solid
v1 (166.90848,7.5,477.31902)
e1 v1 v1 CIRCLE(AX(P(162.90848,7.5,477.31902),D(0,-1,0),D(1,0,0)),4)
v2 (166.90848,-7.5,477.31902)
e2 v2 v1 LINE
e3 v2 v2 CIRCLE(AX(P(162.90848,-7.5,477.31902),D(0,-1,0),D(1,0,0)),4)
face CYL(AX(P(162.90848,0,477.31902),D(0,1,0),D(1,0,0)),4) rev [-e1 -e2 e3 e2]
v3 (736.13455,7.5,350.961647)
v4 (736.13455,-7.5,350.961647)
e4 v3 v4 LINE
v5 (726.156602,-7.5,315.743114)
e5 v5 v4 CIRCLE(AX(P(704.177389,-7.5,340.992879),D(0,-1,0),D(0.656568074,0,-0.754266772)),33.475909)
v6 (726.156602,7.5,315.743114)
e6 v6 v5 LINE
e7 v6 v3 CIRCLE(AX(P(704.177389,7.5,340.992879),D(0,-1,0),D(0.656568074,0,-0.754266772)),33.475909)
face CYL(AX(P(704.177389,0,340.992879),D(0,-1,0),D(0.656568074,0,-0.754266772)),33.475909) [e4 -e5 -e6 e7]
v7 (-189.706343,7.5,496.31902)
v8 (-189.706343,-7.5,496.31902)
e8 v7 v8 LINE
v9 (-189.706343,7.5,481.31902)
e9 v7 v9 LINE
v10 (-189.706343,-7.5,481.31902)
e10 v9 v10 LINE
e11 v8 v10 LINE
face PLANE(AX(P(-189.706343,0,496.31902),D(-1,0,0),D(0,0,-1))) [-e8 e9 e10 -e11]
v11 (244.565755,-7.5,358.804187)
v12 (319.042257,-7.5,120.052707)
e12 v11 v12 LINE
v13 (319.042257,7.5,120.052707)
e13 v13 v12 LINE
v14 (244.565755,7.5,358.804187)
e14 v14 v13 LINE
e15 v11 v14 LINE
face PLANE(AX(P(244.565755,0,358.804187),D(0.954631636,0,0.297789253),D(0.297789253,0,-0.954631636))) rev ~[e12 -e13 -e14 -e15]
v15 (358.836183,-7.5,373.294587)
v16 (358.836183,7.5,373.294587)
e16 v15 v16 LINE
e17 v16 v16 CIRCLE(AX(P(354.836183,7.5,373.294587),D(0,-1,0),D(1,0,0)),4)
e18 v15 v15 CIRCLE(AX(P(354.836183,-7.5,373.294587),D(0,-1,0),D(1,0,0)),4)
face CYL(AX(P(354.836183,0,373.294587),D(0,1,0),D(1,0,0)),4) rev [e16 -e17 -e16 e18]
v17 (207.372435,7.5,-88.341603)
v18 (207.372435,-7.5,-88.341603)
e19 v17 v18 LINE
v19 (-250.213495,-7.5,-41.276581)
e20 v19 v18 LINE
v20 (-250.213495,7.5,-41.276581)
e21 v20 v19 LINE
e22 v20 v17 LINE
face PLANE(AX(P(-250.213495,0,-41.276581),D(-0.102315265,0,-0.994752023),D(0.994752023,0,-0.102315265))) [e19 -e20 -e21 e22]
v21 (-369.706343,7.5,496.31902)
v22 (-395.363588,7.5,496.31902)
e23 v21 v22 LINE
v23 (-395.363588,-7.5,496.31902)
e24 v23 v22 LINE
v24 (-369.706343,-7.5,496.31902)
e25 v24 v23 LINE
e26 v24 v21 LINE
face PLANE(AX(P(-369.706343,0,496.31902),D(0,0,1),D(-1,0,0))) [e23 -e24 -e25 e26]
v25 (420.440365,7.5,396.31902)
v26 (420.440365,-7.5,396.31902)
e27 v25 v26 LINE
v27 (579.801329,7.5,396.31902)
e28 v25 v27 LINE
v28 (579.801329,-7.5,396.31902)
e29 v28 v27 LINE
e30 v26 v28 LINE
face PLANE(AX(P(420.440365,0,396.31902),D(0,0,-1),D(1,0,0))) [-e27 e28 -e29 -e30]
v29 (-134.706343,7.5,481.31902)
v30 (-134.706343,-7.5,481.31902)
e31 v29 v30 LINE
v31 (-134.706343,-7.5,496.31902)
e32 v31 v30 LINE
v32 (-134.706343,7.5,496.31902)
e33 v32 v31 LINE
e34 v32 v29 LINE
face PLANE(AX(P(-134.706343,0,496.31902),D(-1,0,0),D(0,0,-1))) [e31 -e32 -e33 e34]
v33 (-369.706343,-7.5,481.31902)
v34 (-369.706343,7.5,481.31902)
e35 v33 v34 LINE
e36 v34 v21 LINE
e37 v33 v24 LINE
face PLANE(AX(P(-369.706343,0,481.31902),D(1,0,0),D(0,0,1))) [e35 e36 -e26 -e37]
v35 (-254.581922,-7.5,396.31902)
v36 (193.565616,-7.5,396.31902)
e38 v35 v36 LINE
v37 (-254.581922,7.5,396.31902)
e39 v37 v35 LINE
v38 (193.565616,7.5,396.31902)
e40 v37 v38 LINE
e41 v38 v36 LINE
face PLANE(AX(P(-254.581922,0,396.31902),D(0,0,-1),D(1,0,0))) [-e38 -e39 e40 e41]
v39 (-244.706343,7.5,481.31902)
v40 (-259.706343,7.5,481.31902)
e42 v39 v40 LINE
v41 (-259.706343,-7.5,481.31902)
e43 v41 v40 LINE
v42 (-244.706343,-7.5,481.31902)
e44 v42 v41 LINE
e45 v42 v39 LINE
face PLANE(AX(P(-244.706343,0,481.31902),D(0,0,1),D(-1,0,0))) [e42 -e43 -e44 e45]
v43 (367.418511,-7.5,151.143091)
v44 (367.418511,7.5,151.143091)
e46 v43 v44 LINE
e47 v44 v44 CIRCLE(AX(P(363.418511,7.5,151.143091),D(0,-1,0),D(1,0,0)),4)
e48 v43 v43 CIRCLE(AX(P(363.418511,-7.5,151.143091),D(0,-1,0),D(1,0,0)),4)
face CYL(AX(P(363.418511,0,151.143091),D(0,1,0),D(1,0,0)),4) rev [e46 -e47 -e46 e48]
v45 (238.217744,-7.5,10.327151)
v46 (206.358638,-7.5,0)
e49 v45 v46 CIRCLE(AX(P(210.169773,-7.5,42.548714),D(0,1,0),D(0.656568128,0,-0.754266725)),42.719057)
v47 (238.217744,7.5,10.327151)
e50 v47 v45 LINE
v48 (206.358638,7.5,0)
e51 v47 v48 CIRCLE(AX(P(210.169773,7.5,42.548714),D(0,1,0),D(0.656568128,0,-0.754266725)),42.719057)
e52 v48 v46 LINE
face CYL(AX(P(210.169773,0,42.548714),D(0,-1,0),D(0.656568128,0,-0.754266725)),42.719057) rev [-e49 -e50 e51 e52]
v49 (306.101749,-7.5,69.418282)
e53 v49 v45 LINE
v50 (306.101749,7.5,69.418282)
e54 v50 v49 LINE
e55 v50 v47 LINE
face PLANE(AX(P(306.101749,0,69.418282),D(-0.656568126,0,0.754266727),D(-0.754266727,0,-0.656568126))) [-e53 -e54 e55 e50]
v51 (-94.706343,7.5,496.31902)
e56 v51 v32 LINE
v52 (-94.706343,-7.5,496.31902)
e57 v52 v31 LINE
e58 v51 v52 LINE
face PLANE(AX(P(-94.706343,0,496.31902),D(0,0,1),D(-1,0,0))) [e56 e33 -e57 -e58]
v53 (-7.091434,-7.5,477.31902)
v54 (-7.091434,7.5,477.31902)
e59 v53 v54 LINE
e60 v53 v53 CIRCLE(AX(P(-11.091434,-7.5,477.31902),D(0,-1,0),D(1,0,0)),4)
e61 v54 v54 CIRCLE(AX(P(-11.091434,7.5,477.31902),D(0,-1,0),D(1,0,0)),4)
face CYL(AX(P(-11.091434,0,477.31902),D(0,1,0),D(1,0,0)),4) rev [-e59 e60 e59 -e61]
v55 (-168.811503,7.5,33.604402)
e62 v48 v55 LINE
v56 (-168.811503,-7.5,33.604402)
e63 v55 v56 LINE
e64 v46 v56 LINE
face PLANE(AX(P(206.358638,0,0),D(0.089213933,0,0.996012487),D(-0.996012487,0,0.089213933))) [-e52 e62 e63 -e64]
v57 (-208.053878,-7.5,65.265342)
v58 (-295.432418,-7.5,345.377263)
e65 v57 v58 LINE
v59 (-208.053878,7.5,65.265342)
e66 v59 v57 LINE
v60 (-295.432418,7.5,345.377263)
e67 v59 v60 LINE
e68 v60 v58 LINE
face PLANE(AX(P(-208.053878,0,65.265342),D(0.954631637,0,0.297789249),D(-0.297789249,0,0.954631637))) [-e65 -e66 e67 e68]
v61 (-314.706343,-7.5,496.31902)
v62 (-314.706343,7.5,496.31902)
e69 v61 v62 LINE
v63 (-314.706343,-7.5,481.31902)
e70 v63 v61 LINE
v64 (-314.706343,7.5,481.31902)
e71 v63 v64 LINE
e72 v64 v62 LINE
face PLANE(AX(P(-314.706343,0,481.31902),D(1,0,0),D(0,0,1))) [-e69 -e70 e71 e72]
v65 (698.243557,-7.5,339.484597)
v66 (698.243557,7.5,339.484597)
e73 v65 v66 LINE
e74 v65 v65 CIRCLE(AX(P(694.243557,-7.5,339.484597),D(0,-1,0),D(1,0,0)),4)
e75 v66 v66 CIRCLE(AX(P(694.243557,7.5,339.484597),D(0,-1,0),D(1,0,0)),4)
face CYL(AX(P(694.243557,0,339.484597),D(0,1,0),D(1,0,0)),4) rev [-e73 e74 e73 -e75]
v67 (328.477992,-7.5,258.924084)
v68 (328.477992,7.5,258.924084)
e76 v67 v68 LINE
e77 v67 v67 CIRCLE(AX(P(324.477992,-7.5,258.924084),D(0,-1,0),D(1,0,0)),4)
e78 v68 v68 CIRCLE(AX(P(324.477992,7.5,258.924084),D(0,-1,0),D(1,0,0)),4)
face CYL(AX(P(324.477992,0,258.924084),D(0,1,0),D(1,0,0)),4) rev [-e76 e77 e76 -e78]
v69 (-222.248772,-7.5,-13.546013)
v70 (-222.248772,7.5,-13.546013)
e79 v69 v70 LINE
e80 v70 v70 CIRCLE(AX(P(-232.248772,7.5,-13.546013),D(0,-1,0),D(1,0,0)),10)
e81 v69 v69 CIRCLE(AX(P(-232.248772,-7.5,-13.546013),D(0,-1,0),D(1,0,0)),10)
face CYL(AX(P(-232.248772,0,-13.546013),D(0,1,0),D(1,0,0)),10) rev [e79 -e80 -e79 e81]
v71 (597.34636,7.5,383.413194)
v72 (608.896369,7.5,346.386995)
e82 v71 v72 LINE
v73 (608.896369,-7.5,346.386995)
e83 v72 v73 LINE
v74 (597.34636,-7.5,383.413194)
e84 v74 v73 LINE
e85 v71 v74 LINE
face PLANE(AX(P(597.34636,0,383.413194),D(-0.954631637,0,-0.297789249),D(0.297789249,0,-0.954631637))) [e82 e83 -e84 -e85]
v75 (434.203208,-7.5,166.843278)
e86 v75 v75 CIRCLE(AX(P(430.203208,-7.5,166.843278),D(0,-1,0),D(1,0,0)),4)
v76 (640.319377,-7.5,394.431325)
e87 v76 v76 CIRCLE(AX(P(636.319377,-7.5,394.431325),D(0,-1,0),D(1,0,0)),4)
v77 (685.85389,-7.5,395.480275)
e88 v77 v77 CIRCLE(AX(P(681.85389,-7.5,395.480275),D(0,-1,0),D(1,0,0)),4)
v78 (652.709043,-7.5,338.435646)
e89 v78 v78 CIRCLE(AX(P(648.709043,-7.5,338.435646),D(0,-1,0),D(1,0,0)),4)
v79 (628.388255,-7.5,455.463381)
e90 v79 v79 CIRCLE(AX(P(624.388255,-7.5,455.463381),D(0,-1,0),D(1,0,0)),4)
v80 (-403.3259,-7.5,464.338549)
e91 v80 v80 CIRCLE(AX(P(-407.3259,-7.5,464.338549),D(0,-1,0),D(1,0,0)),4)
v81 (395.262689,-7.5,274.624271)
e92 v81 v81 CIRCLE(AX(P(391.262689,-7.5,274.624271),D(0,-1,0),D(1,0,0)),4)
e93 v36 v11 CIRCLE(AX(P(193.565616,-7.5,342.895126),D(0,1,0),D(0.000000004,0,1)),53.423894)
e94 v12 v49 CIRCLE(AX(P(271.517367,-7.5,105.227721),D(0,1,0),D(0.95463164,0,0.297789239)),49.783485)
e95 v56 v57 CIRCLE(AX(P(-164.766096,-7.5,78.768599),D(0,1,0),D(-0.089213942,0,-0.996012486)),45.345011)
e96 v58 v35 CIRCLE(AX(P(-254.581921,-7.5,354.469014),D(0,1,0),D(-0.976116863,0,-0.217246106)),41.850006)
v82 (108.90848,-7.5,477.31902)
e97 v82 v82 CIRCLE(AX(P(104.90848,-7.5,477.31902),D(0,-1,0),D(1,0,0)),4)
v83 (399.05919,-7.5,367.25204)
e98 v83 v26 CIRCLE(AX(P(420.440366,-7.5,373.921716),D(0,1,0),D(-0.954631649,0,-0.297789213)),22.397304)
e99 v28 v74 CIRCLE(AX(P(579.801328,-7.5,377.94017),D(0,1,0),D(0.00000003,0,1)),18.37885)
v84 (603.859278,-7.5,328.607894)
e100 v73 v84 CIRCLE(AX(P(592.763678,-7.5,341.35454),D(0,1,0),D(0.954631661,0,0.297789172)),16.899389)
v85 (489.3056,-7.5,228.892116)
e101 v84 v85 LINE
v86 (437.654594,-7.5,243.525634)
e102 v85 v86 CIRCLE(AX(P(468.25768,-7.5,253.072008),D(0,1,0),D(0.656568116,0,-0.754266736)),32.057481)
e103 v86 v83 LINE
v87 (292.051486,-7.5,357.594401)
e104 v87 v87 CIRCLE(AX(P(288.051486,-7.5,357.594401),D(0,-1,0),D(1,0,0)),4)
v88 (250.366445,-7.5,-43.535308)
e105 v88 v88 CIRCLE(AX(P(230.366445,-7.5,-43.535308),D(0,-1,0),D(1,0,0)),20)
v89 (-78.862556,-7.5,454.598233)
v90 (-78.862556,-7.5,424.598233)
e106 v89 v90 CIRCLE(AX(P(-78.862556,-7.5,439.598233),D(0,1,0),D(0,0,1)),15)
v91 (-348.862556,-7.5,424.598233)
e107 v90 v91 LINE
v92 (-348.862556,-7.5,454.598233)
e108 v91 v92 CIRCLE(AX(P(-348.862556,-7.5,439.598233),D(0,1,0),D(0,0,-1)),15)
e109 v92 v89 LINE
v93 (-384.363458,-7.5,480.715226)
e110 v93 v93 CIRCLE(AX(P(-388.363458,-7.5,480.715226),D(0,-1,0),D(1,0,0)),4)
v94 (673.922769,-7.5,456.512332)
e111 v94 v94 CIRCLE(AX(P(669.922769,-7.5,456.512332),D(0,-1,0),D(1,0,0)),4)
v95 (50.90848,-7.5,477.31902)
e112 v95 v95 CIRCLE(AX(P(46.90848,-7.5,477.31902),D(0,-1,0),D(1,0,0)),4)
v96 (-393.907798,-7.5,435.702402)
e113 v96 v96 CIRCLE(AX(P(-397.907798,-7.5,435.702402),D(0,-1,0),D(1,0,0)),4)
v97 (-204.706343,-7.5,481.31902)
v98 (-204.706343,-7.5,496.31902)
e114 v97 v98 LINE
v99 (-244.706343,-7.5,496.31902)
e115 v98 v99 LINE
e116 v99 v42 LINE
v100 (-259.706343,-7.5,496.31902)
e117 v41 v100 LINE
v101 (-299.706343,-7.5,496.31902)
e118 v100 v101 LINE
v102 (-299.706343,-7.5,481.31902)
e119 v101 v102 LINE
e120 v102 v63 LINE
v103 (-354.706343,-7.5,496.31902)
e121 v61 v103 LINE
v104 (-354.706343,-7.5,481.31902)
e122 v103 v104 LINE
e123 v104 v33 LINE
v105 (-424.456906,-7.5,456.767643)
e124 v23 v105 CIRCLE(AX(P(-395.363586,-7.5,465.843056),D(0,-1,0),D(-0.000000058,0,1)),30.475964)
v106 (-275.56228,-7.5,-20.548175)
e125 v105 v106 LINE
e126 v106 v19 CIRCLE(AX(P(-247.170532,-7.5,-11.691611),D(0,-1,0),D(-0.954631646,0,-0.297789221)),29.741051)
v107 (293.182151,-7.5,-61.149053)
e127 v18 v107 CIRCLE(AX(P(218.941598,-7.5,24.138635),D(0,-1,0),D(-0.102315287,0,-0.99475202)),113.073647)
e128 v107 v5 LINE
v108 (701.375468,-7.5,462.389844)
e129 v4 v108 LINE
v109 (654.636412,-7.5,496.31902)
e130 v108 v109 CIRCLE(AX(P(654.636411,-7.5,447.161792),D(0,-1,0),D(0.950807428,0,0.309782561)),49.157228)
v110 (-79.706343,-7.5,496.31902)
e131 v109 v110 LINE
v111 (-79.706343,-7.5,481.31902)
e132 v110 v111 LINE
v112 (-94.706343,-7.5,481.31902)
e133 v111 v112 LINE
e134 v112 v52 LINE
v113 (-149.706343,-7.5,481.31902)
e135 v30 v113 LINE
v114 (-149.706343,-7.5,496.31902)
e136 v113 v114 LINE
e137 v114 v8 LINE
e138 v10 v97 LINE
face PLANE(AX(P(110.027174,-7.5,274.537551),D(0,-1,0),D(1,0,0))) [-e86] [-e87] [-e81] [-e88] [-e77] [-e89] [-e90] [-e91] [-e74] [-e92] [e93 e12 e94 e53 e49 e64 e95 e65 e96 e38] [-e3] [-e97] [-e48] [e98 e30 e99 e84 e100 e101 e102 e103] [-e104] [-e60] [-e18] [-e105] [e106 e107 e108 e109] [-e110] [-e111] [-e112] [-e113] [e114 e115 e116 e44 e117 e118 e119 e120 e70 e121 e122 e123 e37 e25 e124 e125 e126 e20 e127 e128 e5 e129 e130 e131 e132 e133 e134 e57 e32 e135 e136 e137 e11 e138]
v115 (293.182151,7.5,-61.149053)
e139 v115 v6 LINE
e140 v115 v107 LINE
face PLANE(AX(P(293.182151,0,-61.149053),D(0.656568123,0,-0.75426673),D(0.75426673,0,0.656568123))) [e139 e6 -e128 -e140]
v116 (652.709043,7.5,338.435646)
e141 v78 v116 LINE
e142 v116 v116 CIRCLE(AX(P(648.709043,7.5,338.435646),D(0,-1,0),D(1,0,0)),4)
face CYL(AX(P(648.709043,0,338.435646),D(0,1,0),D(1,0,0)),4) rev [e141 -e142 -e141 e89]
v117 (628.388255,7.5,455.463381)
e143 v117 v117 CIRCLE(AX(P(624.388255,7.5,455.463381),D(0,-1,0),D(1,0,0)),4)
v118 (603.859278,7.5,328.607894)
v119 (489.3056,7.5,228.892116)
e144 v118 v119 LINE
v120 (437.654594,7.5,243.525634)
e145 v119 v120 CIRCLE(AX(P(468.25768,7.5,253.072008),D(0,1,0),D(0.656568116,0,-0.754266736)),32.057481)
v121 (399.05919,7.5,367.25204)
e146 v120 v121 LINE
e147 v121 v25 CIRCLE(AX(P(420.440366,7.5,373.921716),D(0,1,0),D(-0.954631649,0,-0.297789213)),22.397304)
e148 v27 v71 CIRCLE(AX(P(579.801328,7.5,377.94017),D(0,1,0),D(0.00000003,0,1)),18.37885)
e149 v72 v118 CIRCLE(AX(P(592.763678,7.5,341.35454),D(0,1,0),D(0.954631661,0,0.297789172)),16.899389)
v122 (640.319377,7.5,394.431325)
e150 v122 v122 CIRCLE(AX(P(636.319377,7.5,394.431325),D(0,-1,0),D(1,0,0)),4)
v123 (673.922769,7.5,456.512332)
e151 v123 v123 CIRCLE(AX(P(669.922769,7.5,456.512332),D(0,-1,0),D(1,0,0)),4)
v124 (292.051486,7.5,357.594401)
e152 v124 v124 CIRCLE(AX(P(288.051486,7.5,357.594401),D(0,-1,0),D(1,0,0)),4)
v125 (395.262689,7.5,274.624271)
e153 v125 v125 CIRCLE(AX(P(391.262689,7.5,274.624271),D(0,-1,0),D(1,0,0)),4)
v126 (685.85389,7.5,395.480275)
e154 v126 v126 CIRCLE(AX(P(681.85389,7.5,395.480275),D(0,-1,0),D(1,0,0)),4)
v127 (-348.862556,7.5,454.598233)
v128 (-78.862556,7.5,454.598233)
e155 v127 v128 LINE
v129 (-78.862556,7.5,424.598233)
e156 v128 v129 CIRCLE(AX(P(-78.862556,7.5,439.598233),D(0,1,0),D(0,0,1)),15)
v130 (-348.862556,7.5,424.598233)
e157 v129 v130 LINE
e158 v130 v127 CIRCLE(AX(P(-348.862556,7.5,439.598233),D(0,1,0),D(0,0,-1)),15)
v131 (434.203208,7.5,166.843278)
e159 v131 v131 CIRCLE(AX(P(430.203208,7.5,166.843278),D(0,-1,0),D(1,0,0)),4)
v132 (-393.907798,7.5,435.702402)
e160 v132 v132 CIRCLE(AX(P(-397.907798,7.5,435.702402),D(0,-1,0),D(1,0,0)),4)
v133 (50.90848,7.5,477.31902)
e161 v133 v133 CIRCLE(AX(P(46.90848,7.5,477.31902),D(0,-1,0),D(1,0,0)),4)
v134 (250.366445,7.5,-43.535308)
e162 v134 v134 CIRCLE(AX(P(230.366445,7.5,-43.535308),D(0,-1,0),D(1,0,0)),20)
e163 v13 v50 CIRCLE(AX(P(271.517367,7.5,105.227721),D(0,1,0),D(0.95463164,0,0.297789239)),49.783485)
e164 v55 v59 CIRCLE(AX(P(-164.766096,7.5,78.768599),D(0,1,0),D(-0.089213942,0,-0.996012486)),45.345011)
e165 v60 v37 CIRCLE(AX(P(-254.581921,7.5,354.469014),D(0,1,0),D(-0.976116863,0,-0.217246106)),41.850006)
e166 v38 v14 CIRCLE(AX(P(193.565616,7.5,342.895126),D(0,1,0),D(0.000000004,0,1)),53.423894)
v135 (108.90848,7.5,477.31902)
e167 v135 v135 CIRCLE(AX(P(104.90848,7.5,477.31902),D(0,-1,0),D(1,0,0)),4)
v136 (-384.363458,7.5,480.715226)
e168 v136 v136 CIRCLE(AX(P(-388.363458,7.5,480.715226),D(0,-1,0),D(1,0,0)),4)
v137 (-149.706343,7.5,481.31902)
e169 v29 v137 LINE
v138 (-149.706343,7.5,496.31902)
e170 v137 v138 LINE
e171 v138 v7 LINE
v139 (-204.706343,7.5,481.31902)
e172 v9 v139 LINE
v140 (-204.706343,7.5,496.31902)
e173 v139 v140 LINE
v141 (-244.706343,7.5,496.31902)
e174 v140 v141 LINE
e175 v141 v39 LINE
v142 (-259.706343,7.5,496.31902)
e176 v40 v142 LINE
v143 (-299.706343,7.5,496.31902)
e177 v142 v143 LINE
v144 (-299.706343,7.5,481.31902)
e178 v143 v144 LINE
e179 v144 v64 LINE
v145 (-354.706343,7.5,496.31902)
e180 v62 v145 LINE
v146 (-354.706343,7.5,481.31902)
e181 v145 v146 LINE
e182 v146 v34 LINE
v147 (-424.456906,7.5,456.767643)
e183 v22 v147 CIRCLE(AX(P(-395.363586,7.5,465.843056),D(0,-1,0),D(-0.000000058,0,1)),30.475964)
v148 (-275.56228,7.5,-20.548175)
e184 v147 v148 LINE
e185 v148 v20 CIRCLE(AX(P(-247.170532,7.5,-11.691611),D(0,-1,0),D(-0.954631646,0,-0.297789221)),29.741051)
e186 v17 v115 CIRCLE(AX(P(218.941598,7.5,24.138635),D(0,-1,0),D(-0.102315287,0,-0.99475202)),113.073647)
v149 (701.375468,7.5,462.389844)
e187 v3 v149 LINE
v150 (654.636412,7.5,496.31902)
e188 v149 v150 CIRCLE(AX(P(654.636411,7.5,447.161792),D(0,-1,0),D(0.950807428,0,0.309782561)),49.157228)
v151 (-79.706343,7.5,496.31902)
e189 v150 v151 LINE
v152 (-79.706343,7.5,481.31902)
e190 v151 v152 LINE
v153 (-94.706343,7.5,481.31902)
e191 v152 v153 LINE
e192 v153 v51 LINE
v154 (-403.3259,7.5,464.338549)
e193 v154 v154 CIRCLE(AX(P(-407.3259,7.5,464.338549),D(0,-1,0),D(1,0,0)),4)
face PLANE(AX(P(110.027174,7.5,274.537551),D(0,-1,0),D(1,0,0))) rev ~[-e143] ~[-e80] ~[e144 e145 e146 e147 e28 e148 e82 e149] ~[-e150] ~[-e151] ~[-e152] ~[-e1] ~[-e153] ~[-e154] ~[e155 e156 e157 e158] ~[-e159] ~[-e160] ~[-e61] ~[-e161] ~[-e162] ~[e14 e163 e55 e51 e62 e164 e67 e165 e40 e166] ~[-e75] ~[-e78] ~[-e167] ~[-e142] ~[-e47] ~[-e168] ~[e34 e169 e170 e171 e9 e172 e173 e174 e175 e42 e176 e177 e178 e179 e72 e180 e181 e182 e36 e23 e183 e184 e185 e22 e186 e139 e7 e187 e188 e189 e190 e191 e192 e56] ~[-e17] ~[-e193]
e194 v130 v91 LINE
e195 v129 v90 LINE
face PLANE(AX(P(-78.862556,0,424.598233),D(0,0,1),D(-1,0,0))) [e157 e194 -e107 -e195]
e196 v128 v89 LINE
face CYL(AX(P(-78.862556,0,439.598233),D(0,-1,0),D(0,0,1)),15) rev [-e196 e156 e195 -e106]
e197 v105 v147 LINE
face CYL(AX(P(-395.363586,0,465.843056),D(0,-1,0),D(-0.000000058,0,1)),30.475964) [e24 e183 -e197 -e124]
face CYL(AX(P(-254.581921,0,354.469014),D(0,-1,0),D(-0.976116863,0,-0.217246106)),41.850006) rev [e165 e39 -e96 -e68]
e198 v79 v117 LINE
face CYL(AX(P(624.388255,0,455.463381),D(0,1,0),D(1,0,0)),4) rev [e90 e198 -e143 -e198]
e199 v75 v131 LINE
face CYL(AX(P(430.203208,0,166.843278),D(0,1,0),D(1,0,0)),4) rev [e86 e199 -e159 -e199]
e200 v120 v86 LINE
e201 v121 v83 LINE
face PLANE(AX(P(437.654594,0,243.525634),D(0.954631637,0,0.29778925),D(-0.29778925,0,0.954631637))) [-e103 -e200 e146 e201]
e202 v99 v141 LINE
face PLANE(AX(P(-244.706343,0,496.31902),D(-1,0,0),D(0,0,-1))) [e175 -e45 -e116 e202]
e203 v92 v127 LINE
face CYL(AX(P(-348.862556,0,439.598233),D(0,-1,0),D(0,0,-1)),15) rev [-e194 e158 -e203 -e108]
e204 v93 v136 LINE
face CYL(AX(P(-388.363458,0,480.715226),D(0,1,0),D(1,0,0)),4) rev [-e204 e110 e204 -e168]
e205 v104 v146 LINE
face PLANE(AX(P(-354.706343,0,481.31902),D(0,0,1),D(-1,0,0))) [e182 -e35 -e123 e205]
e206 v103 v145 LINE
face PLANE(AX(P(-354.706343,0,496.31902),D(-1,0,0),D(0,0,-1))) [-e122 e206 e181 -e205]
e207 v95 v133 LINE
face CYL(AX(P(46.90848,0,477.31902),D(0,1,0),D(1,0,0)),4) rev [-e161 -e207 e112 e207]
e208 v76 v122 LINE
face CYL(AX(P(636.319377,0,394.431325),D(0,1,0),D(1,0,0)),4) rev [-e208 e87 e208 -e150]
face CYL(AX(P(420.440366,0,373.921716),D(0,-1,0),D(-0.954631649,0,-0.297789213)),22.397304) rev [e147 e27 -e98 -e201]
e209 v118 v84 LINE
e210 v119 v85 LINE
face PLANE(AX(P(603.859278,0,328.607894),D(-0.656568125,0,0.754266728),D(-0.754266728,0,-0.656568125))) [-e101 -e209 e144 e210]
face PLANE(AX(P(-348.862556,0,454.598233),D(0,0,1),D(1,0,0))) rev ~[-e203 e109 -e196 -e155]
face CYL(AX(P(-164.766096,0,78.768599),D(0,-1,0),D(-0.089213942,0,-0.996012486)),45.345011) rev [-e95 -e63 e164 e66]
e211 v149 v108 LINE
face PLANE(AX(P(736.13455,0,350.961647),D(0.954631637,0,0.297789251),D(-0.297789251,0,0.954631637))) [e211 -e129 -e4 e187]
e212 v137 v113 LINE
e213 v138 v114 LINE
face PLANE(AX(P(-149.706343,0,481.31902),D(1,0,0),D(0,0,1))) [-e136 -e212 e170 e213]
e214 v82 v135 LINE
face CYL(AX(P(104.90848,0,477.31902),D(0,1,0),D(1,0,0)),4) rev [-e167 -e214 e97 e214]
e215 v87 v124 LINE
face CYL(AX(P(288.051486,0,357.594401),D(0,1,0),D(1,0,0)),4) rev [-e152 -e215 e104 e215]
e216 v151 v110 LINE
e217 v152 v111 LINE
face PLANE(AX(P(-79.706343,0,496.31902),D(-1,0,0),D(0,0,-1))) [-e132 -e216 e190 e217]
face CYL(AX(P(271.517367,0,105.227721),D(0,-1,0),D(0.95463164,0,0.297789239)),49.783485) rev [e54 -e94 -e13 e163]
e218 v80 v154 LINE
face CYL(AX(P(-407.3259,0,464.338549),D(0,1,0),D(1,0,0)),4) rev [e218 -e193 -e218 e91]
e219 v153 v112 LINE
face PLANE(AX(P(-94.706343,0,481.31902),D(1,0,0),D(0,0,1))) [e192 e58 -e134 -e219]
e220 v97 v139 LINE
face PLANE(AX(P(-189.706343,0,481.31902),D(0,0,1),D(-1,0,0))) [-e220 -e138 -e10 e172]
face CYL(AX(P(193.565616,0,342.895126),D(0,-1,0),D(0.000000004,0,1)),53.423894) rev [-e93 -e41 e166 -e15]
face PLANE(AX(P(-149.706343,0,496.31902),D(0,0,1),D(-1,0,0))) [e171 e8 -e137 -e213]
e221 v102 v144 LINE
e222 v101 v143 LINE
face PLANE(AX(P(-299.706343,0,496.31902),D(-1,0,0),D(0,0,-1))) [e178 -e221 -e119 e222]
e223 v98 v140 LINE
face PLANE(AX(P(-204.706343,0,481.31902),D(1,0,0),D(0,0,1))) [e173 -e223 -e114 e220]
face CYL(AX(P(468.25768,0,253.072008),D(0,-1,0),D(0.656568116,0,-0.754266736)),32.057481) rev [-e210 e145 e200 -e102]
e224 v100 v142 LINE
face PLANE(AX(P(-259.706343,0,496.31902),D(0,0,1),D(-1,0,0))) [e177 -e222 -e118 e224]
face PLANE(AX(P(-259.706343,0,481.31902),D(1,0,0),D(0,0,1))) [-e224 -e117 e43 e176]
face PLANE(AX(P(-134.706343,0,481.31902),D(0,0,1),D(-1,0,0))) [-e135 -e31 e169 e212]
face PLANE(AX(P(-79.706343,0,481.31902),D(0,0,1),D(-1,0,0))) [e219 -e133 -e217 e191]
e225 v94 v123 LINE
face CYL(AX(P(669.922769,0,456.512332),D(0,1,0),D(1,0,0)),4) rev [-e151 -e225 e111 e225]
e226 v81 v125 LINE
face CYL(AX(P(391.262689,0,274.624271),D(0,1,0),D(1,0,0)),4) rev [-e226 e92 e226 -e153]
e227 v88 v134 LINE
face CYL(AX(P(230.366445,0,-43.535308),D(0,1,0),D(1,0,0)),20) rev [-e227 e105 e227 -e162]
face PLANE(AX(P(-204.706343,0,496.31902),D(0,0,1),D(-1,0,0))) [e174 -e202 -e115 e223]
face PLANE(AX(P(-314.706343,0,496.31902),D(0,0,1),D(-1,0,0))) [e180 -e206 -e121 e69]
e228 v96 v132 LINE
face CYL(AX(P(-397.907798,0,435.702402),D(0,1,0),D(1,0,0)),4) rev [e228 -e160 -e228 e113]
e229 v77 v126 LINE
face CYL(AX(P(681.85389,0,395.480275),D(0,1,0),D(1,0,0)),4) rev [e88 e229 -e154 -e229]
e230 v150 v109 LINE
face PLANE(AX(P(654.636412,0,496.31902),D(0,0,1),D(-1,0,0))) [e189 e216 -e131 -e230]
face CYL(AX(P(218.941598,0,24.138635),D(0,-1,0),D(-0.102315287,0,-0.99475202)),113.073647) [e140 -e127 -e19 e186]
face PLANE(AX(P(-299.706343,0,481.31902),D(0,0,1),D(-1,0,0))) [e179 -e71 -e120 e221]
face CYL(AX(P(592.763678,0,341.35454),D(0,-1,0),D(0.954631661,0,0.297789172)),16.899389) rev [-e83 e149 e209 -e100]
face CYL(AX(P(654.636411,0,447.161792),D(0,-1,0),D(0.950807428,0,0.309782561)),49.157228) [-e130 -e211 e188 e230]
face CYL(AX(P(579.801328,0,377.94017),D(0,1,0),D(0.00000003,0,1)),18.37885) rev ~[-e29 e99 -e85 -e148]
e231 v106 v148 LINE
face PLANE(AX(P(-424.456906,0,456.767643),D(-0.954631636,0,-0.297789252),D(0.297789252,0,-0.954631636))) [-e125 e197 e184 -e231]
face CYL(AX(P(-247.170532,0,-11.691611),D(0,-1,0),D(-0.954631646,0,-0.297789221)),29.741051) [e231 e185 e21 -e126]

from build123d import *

# Parameters (mm, degrees)
F0_R     = 10
F0_R_2   = 20
F0_R_3   = 4
F1_DEPTH = 7.5


with BuildPart() as f1:
    # F0 (on Front) → F1 (new body, symmetric)
    with BuildSketch(Plane.XZ):
        with BuildLine():
            ThreePointArc((-275.56228, -20.548175), (-265.997427, -34.715036), (-250.213495, -41.276581))
            Line((-250.213495, -41.276581), (207.372435, -88.341603))
            ThreePointArc((207.372435, -88.341603), (253.099825, -83.652204), (293.182151, -61.149053))
            Line((293.182151, -61.149053), (726.156602, 315.743114))
            ThreePointArc((726.156602, 315.743114), (736.385608, 331.867799), (736.13455, 350.961647))
            Line((736.13455, 350.961647), (701.375468, 462.389844))
            ThreePointArc((701.375468, 462.389844), (683.514294, 486.942452), (654.636412, 496.31902))
            Line((654.636412, 496.31902), (-79.706343, 496.31902))
            Line((-79.706343, 496.31902), (-79.706343, 481.31902))
            Line((-79.706343, 481.31902), (-94.706343, 481.31902))
            Line((-94.706343, 481.31902), (-94.706343, 496.31902))
            Line((-94.706343, 496.31902), (-134.706343, 496.31902))
            Line((-134.706343, 496.31902), (-134.706343, 481.31902))
            Line((-134.706343, 481.31902), (-149.706343, 481.31902))
            Line((-149.706343, 481.31902), (-149.706343, 496.31902))
            Line((-149.706343, 496.31902), (-189.706343, 496.31902))
            Line((-189.706343, 496.31902), (-189.706343, 481.31902))
            Line((-189.706343, 481.31902), (-204.706343, 481.31902))
            Line((-204.706343, 481.31902), (-204.706343, 496.31902))
            Line((-204.706343, 496.31902), (-244.706343, 496.31902))
            Line((-244.706343, 496.31902), (-244.706343, 481.31902))
            Line((-244.706343, 481.31902), (-259.706343, 481.31902))
            Line((-259.706343, 481.31902), (-259.706343, 496.31902))
            Line((-259.706343, 496.31902), (-299.706343, 496.31902))
            Line((-299.706343, 496.31902), (-299.706343, 481.31902))
            Line((-299.706343, 481.31902), (-314.706343, 481.31902))
            Line((-314.706343, 481.31902), (-314.706343, 496.31902))
            Line((-314.706343, 496.31902), (-354.706343, 496.31902))
            Line((-354.706343, 496.31902), (-354.706343, 481.31902))
            Line((-354.706343, 481.31902), (-369.706343, 481.31902))
            Line((-369.706343, 481.31902), (-369.706343, 496.31902))
            Line((-369.706343, 496.31902), (-395.363588, 496.31902))
            ThreePointArc((-395.363588, 496.31902), (-419.913193, 483.901328), (-424.456906, 456.767643))
            Line((-424.456906, 456.767643), (-275.56228, -20.548175))
        make_face()
        with Locations((-232.248772, -13.546013)):
            Circle(F0_R, mode=Mode.SUBTRACT)
        with BuildLine():
            Line((-208.053878, 65.265342), (-295.432418, 345.377263))
            ThreePointArc((-295.432418, 345.377263), (-287.23091, 380.65043), (-254.581922, 396.31902))
            Line((-254.581922, 396.31902), (193.565616, 396.31902))
            ThreePointArc((193.565616, 396.31902), (225.221488, 385.930207), (244.565755, 358.804187))
            Line((244.565755, 358.804187), (319.042257, 120.052707))
            ThreePointArc((319.042257, 120.052707), (319.750596, 92.90088), (306.101749, 69.418282))
            Line((306.101749, 69.418282), (238.217744, 10.327151))
            ThreePointArc((238.217744, 10.327151), (223.342417, 1.911302), (206.358638, 0))
            Line((206.358638, 0), (-168.811503, 33.604402))
            ThreePointArc((-168.811503, 33.604402), (-193.239091, 43.477544), (-208.053878, 65.265342))
        make_face(mode=Mode.SUBTRACT)
        with Locations((230.366445, -43.535308)):
            Circle(F0_R_2, mode=Mode.SUBTRACT)
        with Locations((363.418511, 151.143091)):
            Circle(F0_R_3, mode=Mode.SUBTRACT)
        with Locations((430.203208, 166.843278)):
            Circle(F0_R_3, mode=Mode.SUBTRACT)
        with Locations((-397.907798, 435.702402)):
            Circle(F0_R_3, mode=Mode.SUBTRACT)
        with Locations((-407.3259, 464.338549)):
            Circle(F0_R_3, mode=Mode.SUBTRACT)
        with Locations((-388.363458, 480.715226)):
            Circle(F0_R_3, mode=Mode.SUBTRACT)
        with BuildLine():
            ThreePointArc((-348.862556, 424.598233), (-363.862556, 439.598233), (-348.862556, 454.598233))
            Line((-348.862556, 454.598233), (-78.862556, 454.598233))
            ThreePointArc((-78.862556, 454.598233), (-63.862556, 439.598233), (-78.862556, 424.598233))
            Line((-78.862556, 424.598233), (-348.862556, 424.598233))
        make_face(mode=Mode.SUBTRACT)
        with Locations((-11.091434, 477.31902)):
            Circle(F0_R_3, mode=Mode.SUBTRACT)
        with Locations((46.90848, 477.31902)):
            Circle(F0_R_3, mode=Mode.SUBTRACT)
        with Locations((104.90848, 477.31902)):
            Circle(F0_R_3, mode=Mode.SUBTRACT)
        with Locations((324.477992, 258.924084)):
            Circle(F0_R_3, mode=Mode.SUBTRACT)
        with Locations((391.262689, 274.624271)):
            Circle(F0_R_3, mode=Mode.SUBTRACT)
        with BuildLine():
            Line((437.654594, 243.525634), (399.05919, 367.25204))
            ThreePointArc((399.05919, 367.25204), (402.398442, 387.193047), (420.440365, 396.31902))
            Line((420.440365, 396.31902), (579.801329, 396.31902))
            ThreePointArc((579.801329, 396.31902), (590.691559, 392.745068), (597.34636, 383.413194))
            Line((597.34636, 383.413194), (608.896369, 346.386995))
            ThreePointArc((608.896369, 346.386995), (609.023108, 336.747995), (603.859278, 328.607894))
            Line((603.859278, 328.607894), (489.3056, 228.892116))
            ThreePointArc((489.3056, 228.892116), (459.519244, 222.228502), (437.654594, 243.525634))
        make_face(mode=Mode.SUBTRACT)
        with Locations((648.709043, 338.435646)):
            Circle(F0_R_3, mode=Mode.SUBTRACT)
        with Locations((694.243557, 339.484597)):
            Circle(F0_R_3, mode=Mode.SUBTRACT)
        with Locations((288.051486, 357.594401)):
            Circle(F0_R_3, mode=Mode.SUBTRACT)
        with Locations((354.836183, 373.294587)):
            Circle(F0_R_3, mode=Mode.SUBTRACT)
        with Locations((162.90848, 477.31902)):
            Circle(F0_R_3, mode=Mode.SUBTRACT)
        with Locations((636.319377, 394.431325)):
            Circle(F0_R_3, mode=Mode.SUBTRACT)
        with Locations((681.85389, 395.480275)):
            Circle(F0_R_3, mode=Mode.SUBTRACT)
        with Locations((624.388255, 455.463381)):
            Circle(F0_R_3, mode=Mode.SUBTRACT)
        with Locations((669.922769, 456.512332)):
            Circle(F0_R_3, mode=Mode.SUBTRACT)
    extrude(amount=F1_DEPTH, both=True)


solid = f1.part
